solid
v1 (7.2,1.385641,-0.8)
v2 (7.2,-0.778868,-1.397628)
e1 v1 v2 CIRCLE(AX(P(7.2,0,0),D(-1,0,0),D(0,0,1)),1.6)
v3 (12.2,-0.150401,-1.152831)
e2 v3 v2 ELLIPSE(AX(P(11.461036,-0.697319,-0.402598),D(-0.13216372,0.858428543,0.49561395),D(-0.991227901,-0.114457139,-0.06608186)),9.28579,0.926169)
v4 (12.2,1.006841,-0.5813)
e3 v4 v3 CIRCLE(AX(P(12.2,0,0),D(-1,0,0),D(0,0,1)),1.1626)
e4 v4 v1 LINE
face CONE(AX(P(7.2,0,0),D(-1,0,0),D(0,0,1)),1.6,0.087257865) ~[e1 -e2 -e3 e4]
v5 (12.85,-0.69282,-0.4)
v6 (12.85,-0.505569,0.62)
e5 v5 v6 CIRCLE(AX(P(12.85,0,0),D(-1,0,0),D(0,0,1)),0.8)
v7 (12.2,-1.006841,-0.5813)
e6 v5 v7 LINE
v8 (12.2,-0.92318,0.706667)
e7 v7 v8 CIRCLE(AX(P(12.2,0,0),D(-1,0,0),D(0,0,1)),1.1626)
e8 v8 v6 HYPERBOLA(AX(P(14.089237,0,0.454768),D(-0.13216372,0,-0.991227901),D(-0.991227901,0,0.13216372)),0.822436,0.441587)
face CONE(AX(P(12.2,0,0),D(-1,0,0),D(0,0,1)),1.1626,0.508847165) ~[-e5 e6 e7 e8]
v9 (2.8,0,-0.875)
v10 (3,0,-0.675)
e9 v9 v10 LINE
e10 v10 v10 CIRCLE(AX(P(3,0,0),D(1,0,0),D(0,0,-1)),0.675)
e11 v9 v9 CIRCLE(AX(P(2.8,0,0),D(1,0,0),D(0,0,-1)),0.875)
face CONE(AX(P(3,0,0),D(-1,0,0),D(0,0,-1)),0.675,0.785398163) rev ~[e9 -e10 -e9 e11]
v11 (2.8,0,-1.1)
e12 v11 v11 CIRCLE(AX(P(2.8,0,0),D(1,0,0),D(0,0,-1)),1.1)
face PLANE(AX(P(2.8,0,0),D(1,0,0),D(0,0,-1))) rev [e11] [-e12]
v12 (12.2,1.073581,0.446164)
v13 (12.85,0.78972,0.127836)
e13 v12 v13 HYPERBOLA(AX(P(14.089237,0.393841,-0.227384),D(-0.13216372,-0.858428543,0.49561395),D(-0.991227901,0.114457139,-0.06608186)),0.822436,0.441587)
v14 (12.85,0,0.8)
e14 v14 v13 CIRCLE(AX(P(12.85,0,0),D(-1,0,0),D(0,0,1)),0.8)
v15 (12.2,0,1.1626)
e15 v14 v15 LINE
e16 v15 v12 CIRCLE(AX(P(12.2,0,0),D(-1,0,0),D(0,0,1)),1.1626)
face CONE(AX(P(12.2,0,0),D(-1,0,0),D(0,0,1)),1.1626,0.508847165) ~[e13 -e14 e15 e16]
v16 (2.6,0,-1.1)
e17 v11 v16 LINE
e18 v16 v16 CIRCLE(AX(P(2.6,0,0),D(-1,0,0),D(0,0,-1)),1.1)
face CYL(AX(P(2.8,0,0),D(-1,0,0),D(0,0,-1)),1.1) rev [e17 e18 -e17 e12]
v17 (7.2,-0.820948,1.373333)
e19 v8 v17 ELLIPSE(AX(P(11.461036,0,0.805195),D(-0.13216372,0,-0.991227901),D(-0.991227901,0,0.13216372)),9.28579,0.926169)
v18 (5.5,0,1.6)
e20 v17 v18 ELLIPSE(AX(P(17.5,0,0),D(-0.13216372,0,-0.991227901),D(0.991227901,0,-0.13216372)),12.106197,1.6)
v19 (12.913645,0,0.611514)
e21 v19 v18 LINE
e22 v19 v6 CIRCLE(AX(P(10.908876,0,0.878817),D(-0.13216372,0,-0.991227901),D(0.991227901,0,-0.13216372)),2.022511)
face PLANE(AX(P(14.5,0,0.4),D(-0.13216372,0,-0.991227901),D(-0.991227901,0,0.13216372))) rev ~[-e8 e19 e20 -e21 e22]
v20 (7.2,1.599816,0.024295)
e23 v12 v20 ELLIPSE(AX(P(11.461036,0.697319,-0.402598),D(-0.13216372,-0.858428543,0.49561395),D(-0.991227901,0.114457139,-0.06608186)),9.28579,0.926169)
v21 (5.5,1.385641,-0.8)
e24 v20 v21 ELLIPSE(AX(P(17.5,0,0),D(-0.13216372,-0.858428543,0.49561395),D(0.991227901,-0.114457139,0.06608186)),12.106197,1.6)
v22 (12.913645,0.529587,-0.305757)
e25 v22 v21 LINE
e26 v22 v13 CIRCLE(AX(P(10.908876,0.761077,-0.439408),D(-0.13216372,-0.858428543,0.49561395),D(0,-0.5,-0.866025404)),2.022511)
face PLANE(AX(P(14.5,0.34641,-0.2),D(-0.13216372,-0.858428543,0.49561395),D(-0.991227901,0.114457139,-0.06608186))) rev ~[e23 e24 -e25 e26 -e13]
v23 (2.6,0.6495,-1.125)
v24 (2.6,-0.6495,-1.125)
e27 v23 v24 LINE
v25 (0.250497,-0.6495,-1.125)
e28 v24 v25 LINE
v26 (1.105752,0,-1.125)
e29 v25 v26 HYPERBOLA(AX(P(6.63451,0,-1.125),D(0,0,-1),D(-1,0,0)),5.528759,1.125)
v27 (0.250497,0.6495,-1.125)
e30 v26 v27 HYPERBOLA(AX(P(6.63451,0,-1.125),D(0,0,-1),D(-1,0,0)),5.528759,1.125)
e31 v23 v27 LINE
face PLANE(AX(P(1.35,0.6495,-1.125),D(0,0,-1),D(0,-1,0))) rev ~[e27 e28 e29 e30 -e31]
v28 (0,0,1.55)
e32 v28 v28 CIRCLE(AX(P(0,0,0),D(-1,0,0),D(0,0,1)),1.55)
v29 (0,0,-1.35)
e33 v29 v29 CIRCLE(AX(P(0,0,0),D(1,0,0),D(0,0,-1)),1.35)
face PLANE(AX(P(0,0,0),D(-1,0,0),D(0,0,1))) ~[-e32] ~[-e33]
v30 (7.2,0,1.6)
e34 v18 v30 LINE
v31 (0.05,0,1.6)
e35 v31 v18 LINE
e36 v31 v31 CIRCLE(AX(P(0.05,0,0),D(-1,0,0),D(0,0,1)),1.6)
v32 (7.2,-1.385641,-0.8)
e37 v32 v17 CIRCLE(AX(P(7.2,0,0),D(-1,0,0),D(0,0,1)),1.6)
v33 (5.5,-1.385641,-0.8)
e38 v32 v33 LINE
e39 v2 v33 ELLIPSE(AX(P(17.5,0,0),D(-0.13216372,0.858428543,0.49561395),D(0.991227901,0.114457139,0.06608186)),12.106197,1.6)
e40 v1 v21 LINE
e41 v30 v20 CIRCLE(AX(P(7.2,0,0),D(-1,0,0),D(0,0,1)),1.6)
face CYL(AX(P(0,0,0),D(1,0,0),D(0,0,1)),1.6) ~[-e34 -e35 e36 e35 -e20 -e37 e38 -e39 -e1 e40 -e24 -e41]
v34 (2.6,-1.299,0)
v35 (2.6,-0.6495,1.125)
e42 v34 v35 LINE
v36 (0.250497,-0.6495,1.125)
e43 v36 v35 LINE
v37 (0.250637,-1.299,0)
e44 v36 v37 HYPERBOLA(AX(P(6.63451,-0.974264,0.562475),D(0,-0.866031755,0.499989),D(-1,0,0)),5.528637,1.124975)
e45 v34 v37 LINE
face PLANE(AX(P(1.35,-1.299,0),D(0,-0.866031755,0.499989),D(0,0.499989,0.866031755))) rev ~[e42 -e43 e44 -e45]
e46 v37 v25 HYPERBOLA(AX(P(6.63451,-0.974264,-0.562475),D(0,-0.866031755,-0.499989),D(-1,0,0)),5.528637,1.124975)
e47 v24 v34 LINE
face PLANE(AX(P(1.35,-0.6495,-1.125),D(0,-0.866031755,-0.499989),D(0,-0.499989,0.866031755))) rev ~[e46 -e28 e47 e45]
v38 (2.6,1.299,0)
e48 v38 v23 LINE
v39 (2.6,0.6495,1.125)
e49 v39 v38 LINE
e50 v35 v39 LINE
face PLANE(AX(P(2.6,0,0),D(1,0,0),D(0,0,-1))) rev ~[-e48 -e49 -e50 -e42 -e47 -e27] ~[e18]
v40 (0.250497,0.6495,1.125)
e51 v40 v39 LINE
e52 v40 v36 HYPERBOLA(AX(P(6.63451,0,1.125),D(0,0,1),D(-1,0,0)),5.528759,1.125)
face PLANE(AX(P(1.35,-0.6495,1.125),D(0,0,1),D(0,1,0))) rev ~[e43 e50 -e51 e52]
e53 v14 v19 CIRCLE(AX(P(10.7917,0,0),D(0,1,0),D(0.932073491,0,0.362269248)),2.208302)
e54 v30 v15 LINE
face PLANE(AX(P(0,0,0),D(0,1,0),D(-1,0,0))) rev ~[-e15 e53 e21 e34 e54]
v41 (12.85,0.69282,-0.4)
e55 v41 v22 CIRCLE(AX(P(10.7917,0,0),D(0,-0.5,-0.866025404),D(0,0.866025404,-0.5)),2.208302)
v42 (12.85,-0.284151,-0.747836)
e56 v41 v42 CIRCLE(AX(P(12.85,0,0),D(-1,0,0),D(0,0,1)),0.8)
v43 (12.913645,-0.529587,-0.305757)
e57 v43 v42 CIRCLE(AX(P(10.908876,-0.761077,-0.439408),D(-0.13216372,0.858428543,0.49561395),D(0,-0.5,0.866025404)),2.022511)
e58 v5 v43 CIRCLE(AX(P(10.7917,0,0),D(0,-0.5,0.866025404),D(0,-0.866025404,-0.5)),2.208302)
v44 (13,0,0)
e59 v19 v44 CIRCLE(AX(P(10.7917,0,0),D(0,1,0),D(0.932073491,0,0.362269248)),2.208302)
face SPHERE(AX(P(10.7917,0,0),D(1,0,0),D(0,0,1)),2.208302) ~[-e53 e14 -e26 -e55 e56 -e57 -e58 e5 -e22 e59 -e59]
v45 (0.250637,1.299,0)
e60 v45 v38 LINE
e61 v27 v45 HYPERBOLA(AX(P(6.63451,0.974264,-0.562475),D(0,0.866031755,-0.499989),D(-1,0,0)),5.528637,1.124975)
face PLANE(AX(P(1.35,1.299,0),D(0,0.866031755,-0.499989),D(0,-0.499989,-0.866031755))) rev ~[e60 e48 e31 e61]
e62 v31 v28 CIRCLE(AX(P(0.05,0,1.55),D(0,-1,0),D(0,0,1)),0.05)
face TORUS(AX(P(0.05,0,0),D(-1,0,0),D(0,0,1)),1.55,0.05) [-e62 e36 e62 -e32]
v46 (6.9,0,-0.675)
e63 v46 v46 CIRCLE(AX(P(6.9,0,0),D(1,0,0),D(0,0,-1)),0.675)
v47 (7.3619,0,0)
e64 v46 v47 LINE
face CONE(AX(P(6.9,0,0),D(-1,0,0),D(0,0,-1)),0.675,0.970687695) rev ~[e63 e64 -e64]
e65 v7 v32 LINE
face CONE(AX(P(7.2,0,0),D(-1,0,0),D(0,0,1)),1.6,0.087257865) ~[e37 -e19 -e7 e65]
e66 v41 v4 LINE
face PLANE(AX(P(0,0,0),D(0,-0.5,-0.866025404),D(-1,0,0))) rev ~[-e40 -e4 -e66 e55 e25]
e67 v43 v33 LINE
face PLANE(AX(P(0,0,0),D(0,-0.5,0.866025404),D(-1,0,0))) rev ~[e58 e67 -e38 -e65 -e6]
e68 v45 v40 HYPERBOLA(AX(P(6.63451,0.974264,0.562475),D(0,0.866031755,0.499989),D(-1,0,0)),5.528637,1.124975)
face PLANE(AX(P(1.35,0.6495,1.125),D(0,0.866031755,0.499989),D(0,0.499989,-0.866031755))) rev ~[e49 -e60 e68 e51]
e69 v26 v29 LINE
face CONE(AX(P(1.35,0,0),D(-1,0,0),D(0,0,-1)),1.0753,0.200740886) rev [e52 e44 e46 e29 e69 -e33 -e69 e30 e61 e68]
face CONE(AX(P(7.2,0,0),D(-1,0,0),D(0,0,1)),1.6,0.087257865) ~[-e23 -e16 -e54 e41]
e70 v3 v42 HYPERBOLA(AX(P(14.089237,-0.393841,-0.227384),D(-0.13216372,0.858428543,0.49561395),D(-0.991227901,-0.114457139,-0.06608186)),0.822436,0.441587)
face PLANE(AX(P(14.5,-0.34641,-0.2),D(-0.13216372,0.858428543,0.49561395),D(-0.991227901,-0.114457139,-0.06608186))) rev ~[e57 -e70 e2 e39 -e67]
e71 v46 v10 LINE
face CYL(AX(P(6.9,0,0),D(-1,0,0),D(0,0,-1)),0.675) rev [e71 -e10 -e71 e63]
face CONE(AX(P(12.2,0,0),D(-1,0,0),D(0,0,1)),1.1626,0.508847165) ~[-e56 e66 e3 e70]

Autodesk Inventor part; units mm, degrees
ref_plane "YZ Plane" through (0, 0, 0) normal (1, 0, 0) x (0, 1, 0)
ref_plane "XZ Plane" through (0, 0, 0) normal (0, 1, 0) x (-1, 0, 0)
ref_plane "XY Plane" through (0, 0, 0) normal (0, 0, 1) x (1, 0, 0)
sketch "Sketch1" plane through (0, 0, 0) normal (0, 1, 0) x (-1, 0, 0)
  line L0 (0, 0) -> (0, 1.6)
  line L1 (0, 1.6) -> (-7.2, 1.6)
  line L2 (-7.2, 1.6) -> (-12.2, 1.1626)
  line L3 (-12.7, 0.8837) -> (-12.7, 0)
  line L4 (-12.7, 0) -> (0, 0)
  line L5 (-12.7, 0) -> (-13, 0)
  line L6 (-12.2, 0) -> (-12.2, 1.1626)
  line L7 (-12.2, 1.1626) -> (-12.85, 0.8)
  line L8 (-12.2, -1.1626) -> (-12.85, -0.8)
  arc A0 (-12.85, 0.8) -> (-12.85, -0.8) centre (-10.7917, 0) ccw
  dimension "d0" = 1.6
  dimension "d1" = 7.2
  dimension "d3" = 12.7
  dimension "d4" = 0.3
  dimension "d352" = 0.8
  dimension "d353" = 0.8
  dimension "d355" = 0.65
  dimension "d359" = 5
  dimension "d373" = 60.848
revolve "Revolution1" add sketch "Sketch1" angle 360 about axis through (12.7, 0, 0) along (-1, 0, 0)
sketch "Sketch2" plane through (0, 0, 0) normal (0, 1, 0) x (-1, 0, 0)
  line L0 (0, -1.35) -> (0, 0)
  line L1 (0, 0) -> (-6.9, 0)
  line L2 (-6.9, 0) -> (-6.9, -0.675)
  line L3 (-6.9, -0.675) -> (-2.8, -0.675)
  line L4 (-2.8, -0.675) -> (-2.8, -1.1)
  line L5 (-2.8, -1.1) -> (-1.35, -1.1)
  line L6 (-1.35, -1.1) -> (-1.35, -1.0753)
  line L7 (-1.35, -1.0753) -> (0, -1.35)
  line L8 (-6.9, -0.675) -> (-7.3619, 0)
  line L9 (-7.3619, 0) -> (-6.9, 0) construction
  line L10 (-7.3619, 0) -> (-6.9, 0)
  line L11 (0, 0) -> (0, -1.425)
  line L12 (0, -1.6) -> (0, 1.6) projected
  line L13 (0, -1.425) -> (0.3686, -1.425)
  dimension "d9" = 1.1
  dimension "d11" = 1.35
  dimension "d12" = 11.5
  dimension "d145" = 0.4619
  dimension "d284" = 1.45
  dimension "d293" = 1.35
  dimension "d361" = 1.425
  dimension "d363" = 0.3686
  dimension "d367" = 6.9
  dimension "d374" = 0.675
revolve "Revolution2" cut sketch "Sketch2" angle 360 about axis through (0, 0, 0) along (1, 0, 0)
sketch "Sketch3" plane through (1.35, 0, 0) normal (1, 0, 0) x (0, 0, -1)
  line L0 (0, 1.299) -> (1.125, 0.6495)
  line L1 (1.125, 0.6495) -> (1.125, -0.6495)
  line L2 (1.125, -0.6495) -> (0, -1.299)
  line L3 (0, -1.299) -> (-1.125, -0.6495)
  line L4 (-1.125, -0.6495) -> (-1.125, 0.6495)
  line L5 (-1.125, 0.6495) -> (0, 1.299)
  point P0 (0, 0)
  point P1 (0, 0)
  dimension "d20" = 0
  dimension "d21" = 2.25
extrude "Extrusion1" cut sketch "Sketch3" along normal blind 1.25 and the other way blind 2
fillet "Fillet1" radius 0.05 1 edges at (0, 0, -1.6)
sketch "Sketch10" plane through (0, 0, 0) normal (0, 1, 0) x (-1, 0, 0)
  circle A0 centre (-1.8, 1.5) radius 0.1
  line L0 (-0.5216, -1.4433) -> (-0.46, -1.55)
  line L1 (-0.46, -1.55) -> (-0.6332, -1.55)
  line L2 (-0.6332, -1.55) -> (-0.5716, -1.4433)
  line L3 (-0.5216, -1.4433) -> (-0.5716, -1.4433)
  line L4 (0, 1.55) -> (0, -1.55) projected
  point P0 (0, 0)
  point P1 (-0.5466, -1.5)
  point P2 (-0.5466, -1.4)
  dimension "d69" = 0.2
  dimension "d70" = 1.5
  dimension "d71" = 1.8
  dimension "d232" = 0.15
  dimension "d233" = 0.05
  dimension "d234" = 0.05
  dimension "d235" = 0.46
  dimension "d236" = 1.55
  dimension "d237" = 1.55
sketch "Sketch24" plane through (0, 0, 0) normal (0, 1, 0) x (-1, 0, 0)
  line L0 (-2.0692, 1.4443) -> (-2.5292, 1.4)
  line L1 (-2.5292, 1.4) -> (-3.1116, 2.2165)
  line L2 (-3.1116, 2.2165) -> (-2, 2.3235)
  line L3 (-2, 2.3235) -> (-2.0692, 1.4443)
  line L4 (-2.6, -1.125) -> (-0.2505, -1.125) projected
  line L5 (0, 1.35) -> (0, -1.35) projected
  point P0 (0, 0)
  point P1 (-0.3734, 1.125)
  point P2 (-2.65, 1.125)
  point P3 (-0.2505, -1.125)
  dimension "d167" = 60
  dimension "d170" = 2
  dimension "d171" = 100
  dimension "d357" = 0.8685
  dimension "d358" = 0.46
  dimension "d370" = 1.4
  dimension "d371" = 84.5
coil "Coil12" [suppressed]
coil "Coil16" [suppressed]
sketch "Sketch41" plane through (2.0889, 1.4266, -0.4635) normal (0, -0.309, -0.9511) x (1, 0, 0)
  line L0 (0.1155, 0) -> (0.0827, 0.0567) projected
  line L1 (0.0827, 0.0567) -> (0.0327, 0.0567) projected
  line L2 (-0.4173, 0.0567) -> (-0.4673, 0.0567) projected
  line L3 (-0.9173, 0.0567) -> (-0.9673, 0.0567) projected
  line L4 (-1.4173, 0.0567) -> (-1.4673, 0.0567) projected
  line L5 (-1.2173, 2.9433) -> (-1.1673, 2.9433) projected
  line L6 (-0.7173, 2.9433) -> (-0.6673, 2.9433) projected
  line L7 (-0.2173, 2.9433) -> (-0.1673, 2.9433) projected
  arc A0 (-2.0889, 0.05) -> (-2.0389, 0) centre (-2.0389, 0.05) ccw projected
  line L8 (-2.0889, 0.05) -> (-2.0889, 0.15) projected
  line L9 (-2.0889, 0.15) -> (-1.1065, 0.3499) projected
  line L10 (4.8111, 0.7) -> (5.273, 1.5) projected
  line L11 (5.273, 1.5) -> (4.8111, 2.3) projected
  line L12 (-1.1065, 2.6501) -> (-2.0889, 2.85) projected
  line L13 (-2.0889, 2.85) -> (-2.0889, 2.95) projected
  arc A1 (-2.0389, 3) -> (-2.0889, 2.95) centre (-2.0389, 2.95) ccw projected
  line L14 (4.8111, 2.3) -> (0.7111, 2.3) projected
  line L15 (0.7111, 0.7) -> (4.8111, 0.7) projected
  line L16 (0.7111, 2.3) -> (0.7111, 2.6) projected
  line L17 (0.5111, 0.4) -> (0.7111, 0.4) projected
  line L18 (0.7111, 2.6) -> (0.5111, 2.6) projected
  line L19 (0.7111, 0.4) -> (0.7111, 0.7) projected
  line L20 (0, 0) -> (-0.3845, 0) projected
  line L21 (0.0327, 0.0567) -> (0, 0) projected
  line L22 (0.1155, 0) -> (0, 0) projected
  line L23 (0.5111, 0.3499) -> (0.5111, 0.4) projected
  line L24 (0.5111, 2.6) -> (0.5111, 2.6501) projected
  arc A2 (9.2611, 0.6) -> (9.2611, 2.4) centre (6.6361, 1.5) ccw projected
  line L25 (0.5111, 2.6501) -> (-1.1065, 2.6501) projected
  line L26 (4.9111, 0) -> (0.1155, 0) projected
  line L27 (-1.1065, 0.3499) -> (0.5111, 0.3499) projected
  line L28 (9.2611, 0.6) -> (8.6111, 0.3237) projected
  line L29 (8.6111, 0.3237) -> (4.9111, 0) projected
  line L30 (-0.5, 0) -> (-0.8845, 0) projected
  line L31 (-1, 0) -> (-1.3845, 0) projected
  line L32 (-1.5, 0) -> (-2.0389, 0) projected
  line L33 (-2.0389, 3) -> (-1.25, 3) projected
  line L34 (-1.1345, 3) -> (-0.75, 3) projected
  line L35 (-0.6345, 3) -> (-0.25, 3) projected
  line L36 (-0.1345, 3) -> (4.9111, 3) projected
  line L37 (4.9111, 3) -> (8.6111, 2.6763) projected
  line L38 (8.6111, 2.6763) -> (9.2611, 2.4) projected
  point P0 (-2.0889, 1.5)
  point P1 (0.04, 2.55)
  point P2 (0.04, 0.95)
  point P3 (2.4363, -2.336)
  point P4 (2.2646, -2.336)
  point P5 (1.6424, -2.336)
  point P6 (1.4156, -2.336)
  point P7 (0.8485, -2.336)
  point P8 (0.5666, -2.336)
  point P9 (0.14, 0.3317)
  point P10 (0.14, 2.6683)
  point P11 (-0.69, 0)
  point P12 (-0.5168, 0)
  point P13 (-1.15, 0)
  point P14 (0.0554, 3.4951)
  point P15 (0.4369, 3.5)
  point P16 (5.5075, 3.4591)
  point P17 (9.4087, 0.8232)
  point P18 (9.1185, 0.3568)
  point P19 (9.1075, 0.3559)
  point P20 (8.3185, 0.2868)
  point P21 (8.3075, 0.2859)
  point P22 (7.5185, 0.2168)
  point P23 (7.5075, 0.2159)
  point P24 (6.7185, 0.1469)
  point P25 (6.7075, 0.1459)
  point P26 (5.9185, 0.0769)
  point P27 (5.9075, 0.0759)
  point P28 (5.1185, 0.0069)
  point P29 (5.1075, 0.0059)
  point P30 (0, 0.0001)
  point P31 (10.24, 3.1065)
  point P32 (9.9229, 0.3686)
  point P33 (9.8272, 0.361)
  point P34 (9.1222, 0.3055)
  point P35 (9.0317, 0.2984)
  point P36 (8.3215, 0.2425)
  point P37 (8.2362, 0.2358)
  point P38 (7.5207, 0.1795)
  point P39 (7.4407, 0.1732)
  point P40 (6.72, 0.1165)
  point P41 (6.6452, 0.1106)
  point P42 (5.9192, 0.0535)
  point P43 (5.8497, 0.048)
  point P44 (5.1195, 0)
  point P45 (5.0443, 0)
  point P46 (4.2066, 0)
  point P47 (3.5312, 0)
  point P48 (3.3689, 0)
  point P49 (2.7371, 0)
  point P50 (2.5311, 0)
  point P51 (1.943, 0)
  point P52 (1.6934, 0)
  point P53 (1.1489, 0)
  point P54 (0.8557, 0)
  point P55 (10.3292, 3.0438)
  point P56 (10.225, 3.1077)
  point P57 (9.5226, 3.163)
  point P58 (9.4295, 3.1703)
  point P59 (8.7218, 3.226)
  point P60 (8.634, 3.2329)
  point P61 (7.9211, 3.289)
  point P62 (7.8385, 3.2955)
  point P63 (7.1203, 3.352)
  point P64 (7.043, 3.3581)
  point P65 (6.3196, 3.415)
  point P66 (6.2475, 3.4207)
  point P67 (5.5189, 3.4781)
  point P68 (5.4519, 3.4833)
  point P69 (4.7224, 3.5)
  point P70 (4.6255, 3.5)
  point P71 (3.9283, 3.5)
  point P72 (3.7877, 3.5)
  point P73 (3.1342, 3.5)
  point P74 (2.95, 3.5)
  point P75 (2.3401, 3.5)
  point P76 (2.1123, 3.5)
  point P77 (1.5459, 3.5)
  point P78 (1.2745, 3.5)
  point P79 (0.7518, 3.5)
  point P80 (0.4368, 3.5)
  point P81 (0.0559, 3.4961)
  point P82 (-0.0003, 0)
  point P83 (1.2685, 3)
  point P84 (0.6925, 3)
  point P85 (2.1062, 3)
  point P86 (2.9439, 3)
  point P87 (1.4866, 3)
  point P88 (3.7817, 3)
  point P89 (2.2807, 3)
  point P90 (3.0748, 3)
  point P91 (4.6194, 3)
  point P92 (3.8689, 3)
  point P93 (4.6631, 3)
  point P94 (9.3294, 0.7244)
  point P95 (8.9446, 0.4186)
  point P96 (5.4339, 2.9655)
  point P97 (5.461, 2.9636)
  point P98 (6.2339, 2.9095)
  point P99 (6.261, 2.9076)
  point P100 (7.0339, 2.8536)
  point P101 (7.061, 2.8517)
  point P102 (7.8339, 2.7976)
  point P103 (7.861, 2.7957)
  point P104 (8.6339, 2.7417)
  point P105 (8.261, 0.2322)
  point P106 (7.461, 0.1763)
  point P107 (8.2339, 0.2303)
  point P108 (6.661, 0.1203)
  point P109 (7.4339, 0.1744)
  point P110 (5.861, 0.0644)
  point P111 (6.6339, 0.1184)
  point P112 (5.061, 0.0085)
  point P113 (5.8339, 0.0625)
  point P114 (9.0823, 0.491)
  point P115 (-0.7468, 0)
  point P116 (5.0339, 0.0066)
  point P117 (-1.2068, 0)
  point P118 (0.1351, 3)
  point P119 (0.9307, 3)
  point P120 (0.6796, 3)
  point P121 (1.5195, 3)
  point P122 (1.7263, 3)
  point P123 (2.3594, 3)
  point P124 (2.5219, 3)
  point P125 (3.1993, 3)
  point P126 (3.3175, 3)
  point P127 (4.0392, 3)
  point P128 (4.113, 3)
  point P129 (5.6716, 2.9335)
  point P130 (5.7097, 2.9301)
  point P131 (6.4622, 2.8643)
  point P132 (6.5109, 2.86)
  point P133 (7.2527, 2.7951)
  point P134 (7.312, 2.79)
  point P135 (8.0433, 2.726)
  point P136 (8.1131, 2.7199)
  point P137 (8.7927, 2.5991)
  point P138 (8.9225, 2.5439)
  point P139 (9.115, 0.5379)
  point P140 (8.5136, 0.3152)
  point P141 (8.4386, 0.3086)
  point P142 (7.7125, 0.2451)
  point P143 (7.648, 0.2394)
  point P144 (6.9114, 0.175)
  point P145 (6.8574, 0.1703)
  point P146 (6.1103, 0.1049)
  point P147 (6.0669, 0.1011)
  point P148 (5.3092, 0.0348)
  point P149 (5.2763, 0.0319)
  point P150 (4.9086, 3)
  point P151 (4.8791, 3)
extrude "Extrusion19" [suppressed]
sketch "Sketch45" plane through (0, 0, 0) normal (0, 1, 0) x (-1, 0, 0)
  point P0 (0, 0)
sketch "Sketch47" plane through (0, 0, 0) normal (0, 0, 1) x (1, 0, 0)
  line L0 (0, -1.35) -> (0.2505, -1.299) projected
  line L1 (6.9, -0.675) -> (7.3619, 0) projected
  line L2 (7.3619, 0) -> (6.9, 0.675) projected
  line L3 (0.2505, 1.299) -> (0, 1.35) projected
  line L4 (6.9, 0.675) -> (2.8, 0.675) projected
  line L5 (2.8, -0.675) -> (6.9, -0.675) projected
  arc A0 (0, -1.55) -> (0.05, -1.6) centre (0.05, -1.55) ccw projected
  line L6 (0, -1.55) -> (0, -1.35) projected
  line L7 (0, 1.35) -> (0, 1.55) projected
  arc A1 (0.05, 1.6) -> (0, 1.55) centre (0.05, 1.55) ccw projected
  line L8 (0.2505, -1.299) -> (2.6, -1.299) projected
  line L9 (2.6, -1.299) -> (2.6, -1.1) projected
  line L10 (2.6, 1.1) -> (2.6, 1.299) projected
  line L11 (2.6, 1.299) -> (0.2505, 1.299) projected
  line L12 (2.6, -1.1) -> (2.8, -1.1) projected
  line L13 (2.8, -1.1) -> (2.8, -0.675) projected
  line L14 (2.8, 0.675) -> (2.8, 1.1) projected
  line L15 (2.8, 1.1) -> (2.6, 1.1) projected
  line L16 (12.2, 1.1626) -> (12.85, 0.8) projected
  arc A2 (12.85, -0.8) -> (12.85, 0.8) centre (10.7917, 0) ccw projected
  line L17 (12.85, -0.8) -> (12.2, -1.1626) projected
  line L18 (12.2, -1.1626) -> (7.2, -1.6) projected
  line L19 (7.2, -1.6) -> (0.05, -1.6) projected
  line L20 (0.05, 1.6) -> (7.2, 1.6) projected
  line L21 (7.2, 1.6) -> (12.2, 1.1626) projected
  point P0 (0, 0)
  point P1 (7.012, 0)
sketch "Sketch9" plane through (0, 0, 0) normal (0, 1, 0) x (-1, 0, 0)
  line L0 (0, 1.35) -> (0, -1.35) projected
  line L1 (0, -1.6) -> (0, 1.6) projected
  line L2 (-14.5, 1.6) -> (-5.5, 1.6)
  line L3 (-7.2, 1.6) -> (0, 1.6) projected
  line L4 (-14.5, 1.6) -> (-14.5, 0.4)
  line L5 (-14.5, 0.4) -> (-5.5, 1.6)
  point P0 (0, 0)
  dimension "d257" = 1.2
  dimension "d258" = 5.5
  dimension "d262" = 9
extrude "Extrusion4" cut sketch "Sketch9" against normal blind 2
pattern_circular "Circular Pattern1" count 3 over 360 about axis through (-10, 0, 0) along (1, 0, 0) of "Extrusion4"
sketch "Sketch50" plane through (0, 0, 0) normal (0, 1, 0) x (-1, 0, 0)
  line L0 (-2.8, 0.675) -> (-6.9, 0.675) projected
  line L1 (-6.9, 0.675) -> (-7.3619, 0) projected
  line L2 (-6.9, -0.675) -> (-2.8, -0.675) projected
  arc A0 (-0.05, -1.6) -> (0, -1.55) centre (-0.05, -1.55) ccw projected
  arc A1 (0, 1.55) -> (-0.05, 1.6) centre (-0.05, 1.55) ccw projected
  line L3 (-0.05, -1.6) -> (-7.2, -1.6) projected
  line L4 (-1.1059, -1.125) -> (0, -1.35) projected
  line L5 (0, -1.35) -> (0, -1.55) projected
  line L6 (0, 1.55) -> (0, 1.35) projected
  line L7 (0, 1.35) -> (-1.1059, 1.125) projected
  line L8 (-2.6, -1.125) -> (-1.1059, -1.125) projected
  line L9 (-1.1059, 1.125) -> (-2.6, 1.125) projected
  line L10 (-2.6, 1.125) -> (-2.6, 1.1) projected
  line L11 (-2.6, -1.1) -> (-2.6, -1.125) projected
  line L12 (-2.8, -0.675) -> (-2.8, -1.1) projected
  line L13 (-2.8, -1.1) -> (-2.6, -1.1) projected
  line L14 (-2.6, 1.1) -> (-2.8, 1.1) projected
  line L15 (-2.8, 1.1) -> (-2.8, 0.675) projected
  line L16 (-7.3619, 0) -> (-6.9, -0.675) projected
  line L17 (-5.5, 1.6) -> (-0.05, 1.6) projected
  line L18 (-12.9136, 0.6115) -> (-5.5, 1.6) projected
  line L19 (-7.2, -1.6) -> (-12.2, -1.1626) projected
  line L20 (-12.85, 0.8) -> (-12.2, 1.1626) projected
  line L21 (-12.2, 1.1626) -> (-7.2, 1.6) projected
  line L22 (-7.2, 1.6) -> (-5.5, 1.6) projected
  line L23 (-12.2, -1.1626) -> (-12.85, -0.8) projected
  arc A2 (-12.9136, 0.6115) -> (-12.85, -0.8) centre (-10.7917, 0) ccw projected
  arc A3 (-12.85, 0.8) -> (-12.9136, 0.6115) centre (-10.7917, 0) ccw projected
  point P0 (0, 0)
  point P1 (-1.4382, 1.75)
  point P2 (-1.495, 1.75)
  point P3 (-1.6682, 1.75)
  point P4 (-6.2041, 1.75)
  point P5 (-11.5804, 0.9405)
  point P6 (-2.2986, 1.75)
  point P7 (-5.8766, -1.75)
  point P8 (-6.6717, -1.75)
  point P9 (-7.4687, -1.7289)
  point P10 (-10.5666, -1.2193)
  point P11 (-10.7, -0.8888)
  point P12 (-3.5, -1.3923)
  point P13 (-4.3, -1.3364)
  point P14 (-5.1, -1.2804)
  point P15 (-5.9, -1.2245)
  point P16 (-6.7, -1.1685)
  point P17 (-7.5, -1.1126)
  point P18 (-2.3, 1.4762)
  point P19 (-3.1, 1.4203)
  point P20 (-3.9, 1.3643)
  point P21 (-4.7, 1.3084)
  point P22 (-5.5, 1.2524)
  point P23 (-6.3, 1.1965)
  point P24 (-7.1, 1.1406)
  point P25 (-7.9, 1.0846)
  point P26 (-8.7, 1.0287)
  point P27 (-6.2532, 1.5)
  point P28 (-3.5, -1.3923)
  point P29 (-7.4513, -1.4231)
  point P30 (-8.2513, -1.3601)
  point P31 (-9.0513, -1.2971)
  point P32 (-8.3929, 1.3781)
sketch "Sketch51" plane through (0, 0, 0) normal (0, 0, 1) x (1, 0, 0)
  line L0 (0, -1.35) -> (0.2505, -1.299) projected
  line L1 (6.9, -0.675) -> (7.3619, 0) projected
  line L2 (7.3619, 0) -> (6.9, 0.675) projected
  line L3 (0.2505, 1.299) -> (0, 1.35) projected
  line L4 (0.05, 1.6) -> (7.1077, 1.6) projected
  line L5 (0, 1.35) -> (0, 1.55) projected
  arc A0 (0.05, 1.6) -> (0, 1.55) centre (0.05, 1.55) ccw projected
  arc A1 (0, -1.55) -> (0.05, -1.6) centre (0.05, -1.55) ccw projected
  line L6 (0, -1.55) -> (0, -1.35) projected
  line L7 (7.2, -1.6) -> (0.05, -1.6) projected
  line L8 (2.6, 1.299) -> (0.2505, 1.299) projected
  line L9 (0.2505, -1.299) -> (2.6, -1.299) projected
  line L10 (2.6, -1.299) -> (2.6, -1.1) projected
  line L11 (2.6, 1.1) -> (2.6, 1.299) projected
  line L12 (6.9, 0.675) -> (2.8, 0.675) projected
  line L13 (2.8, 0.675) -> (2.8, 1.1) projected
  line L14 (2.8, 1.1) -> (2.6, 1.1) projected
  line L15 (2.6, -1.1) -> (2.8, -1.1) projected
  line L16 (2.8, -1.1) -> (2.8, -0.675) projected
  line L17 (2.8, -0.675) -> (6.9, -0.675) projected
  line L18 (12.85, -0.8) -> (12.2, -1.1626) projected
  line L19 (12.2, -1.1626) -> (7.2, -1.6) projected
  line L20 (7.1077, 1.6) -> (12.8824, 0.7109) projected
  arc A2 (12.85, -0.8) -> (12.8824, 0.7109) centre (10.7917, 0) ccw projected
  point P0 (0, 0)
  point P1 (7.012, 0)
  point P2 (0.7475, 1.75)
  point P3 (0.9775, 1.75)
  point P4 (1.2075, 1.75)
  point P5 (8.1591, 1.2076)
  point P6 (5.2803, 1.75)
  point P7 (6.0754, 1.75)
  point P8 (7.6761, 1.6296)
  point P9 (8.4815, 1.5119)
  point P10 (6.0591, 1.5)
  point P11 (10.1597, -0.9266)
  point P12 (9.6652, -1.2902)
  point P13 (8.8644, -1.3533)
  point P14 (7.2629, -1.4793)
  point P15 (9.3597, -0.9825)
  point P16 (3.3597, 1.4021)
  point P17 (4.1597, 1.3462)
  point P18 (6.5597, 1.1783)
  point P19 (7.3597, 1.1224)
  point P20 (8.1597, 1.0665)
  point P21 (9.7597, 0.9546)
  point P22 (10.5597, 0.8986)
  point P23 (10.9597, -0.8707)
  point P24 (8.5597, -1.0385)
  point P25 (7.7597, -1.0944)
  point P26 (6.9597, -1.1504)
  point P27 (5.3597, -1.2622)
  point P28 (4.5597, -1.3182)
  point P29 (3.7597, -1.3741)
  point P30 (2.9597, -1.4301)
  point P31 (3.3597, 1.4021)
  point P32 (9.6652, -1.2902)
  point P33 (10.5597, 0.8986)
  point P34 (8.9597, 0.8491)
  point P35 (10.5597, 0.7232)
  point P36 (6.5597, 1.038)
  point P37 (2.8826, 1.5)
  point P38 (3.6767, 1.5)
  point P39 (4.4708, 1.5)
  point P40 (5.2498, -1.5)
  point P41 (4.0738, -1.5)
  point P42 (3.2796, -1.5)
sketch "Sketch52" plane through (2.65, 0, 0) normal (-1, 0, 0) x (0, 0, 1)
  circle A0 centre (0, 0) radius 1.125
  dimension "d321" = 2.25
extrude "Extrusion21" [suppressed]
sketch "Sketch53" plane through (0, 0, 0) normal (0, 0, 1) x (1, 0, 0)
  line L0 (2.8, -0.75) -> (3.0165, -0.75)
  line L1 (2.8, -0.75) -> (2.8, -1.125)
  line L2 (2.8, -1.125) -> (3.0165, -0.75)
  line L3 (-2.6183, 0) -> (15.6376, 0) projected
  point P0 (0, 0)
  dimension "d325" = 1.125
  dimension "d326" = 0.75
  dimension "d327" = 60
  dimension "d328" = 2.8
revolve "Revolution7" [suppressed]
thread "Thread3" size "M1.6x0.35" class "6H" standard "ANSI Metric M Profile" length 3.1
sketch "Sketch54" plane through (0, 0, 0) normal (0, 1, 0) x (-1, 0, 0)
  line L0 (-13, 1.19) -> (-13, 0.25)
  line L1 (2.6183, 0) -> (-15.6376, 0) projected
  line L2 (0, 1.35) -> (0, -1.35) projected
  line L3 (-13, 0.25) -> (-12.6579, 1.19)
  line L4 (-12.6579, 1.19) -> (-13, 1.19)
  point P0 (0, 0)
  point P1 (-12.861, 0.9532)
  dimension "d341" = 13
  dimension "d342" = 0.94
  dimension "d343" = 20
  dimension "d344" = 0.25
revolve "Revolution8" [suppressed]
sketch "Sketch55" plane through (0.5216, 0, -1.4433) normal (0, 1, 0) x (1, 0, 0)
  line L0 (0.05, 0) -> (0.0827, 0.0567) projected
  line L1 (-0.0327, 0.0567) -> (0.0827, 0.0567) projected
  line L2 (-0.4716, 0.0567) -> (-0.0327, 0.0567) projected
  arc A0 (-0.4716, 0.0567) -> (-0.5216, 0.0067) centre (-0.4716, 0.0067) ccw projected
  line L3 (-0.5216, -0.0933) -> (-0.5216, 0.0067) projected
  line L4 (0.5843, -0.3183) -> (-0.5216, -0.0933) projected
  line L5 (6.3784, -0.6433) -> (2.2784, -0.6433) projected
  line L6 (6.8403, -1.4433) -> (6.3784, -0.6433) projected
  line L7 (6.3784, -2.2433) -> (6.8403, -1.4433) projected
  line L8 (2.2784, -2.2433) -> (6.3784, -2.2433) projected
  line L9 (-0.5216, -2.7933) -> (0.5843, -2.5683) projected
  line L10 (-0.5216, -2.8933) -> (-0.5216, -2.7933) projected
  arc A1 (-0.5216, -2.8933) -> (-0.4716, -2.9433) centre (-0.4716, -2.8933) ccw projected
  line L11 (0.5, 0) -> (0.55, 0) projected
  line L12 (1, 0) -> (1.05, 0) projected
  line L13 (1.5, 0) -> (1.55, 0) projected
  line L14 (1.3, -2.8866) -> (1.25, -2.8866) projected
  line L15 (0.8, -2.8866) -> (0.75, -2.8866) projected
  line L16 (0.3, -2.8866) -> (0.25, -2.8866) projected
  line L17 (0, 0) -> (0.05, 0) projected
  line L18 (-0.0327, 0.0567) -> (0, 0) projected
  line L19 (0.0827, 0.0567) -> (0.4673, 0.0567) projected
  line L20 (10.9407, -1.899) -> (3.9784, -2.9433) projected
  line L21 (0.5827, 0.0567) -> (0.9673, 0.0567) projected
  line L22 (1.0827, 0.0567) -> (1.4673, 0.0567) projected
  line L23 (1.5827, 0.0567) -> (6.4784, 0.0567) projected
  line L24 (0.2173, -2.9433) -> (-0.4716, -2.9433) projected
  line L25 (2.2784, -0.6433) -> (2.2784, -0.3433) projected
  line L26 (2.2784, -0.3433) -> (2.0784, -0.3433) projected
  line L27 (2.0784, -0.3433) -> (2.0784, -0.3183) projected
  line L28 (2.0784, -0.3183) -> (0.5843, -0.3183) projected
  line L29 (0.5843, -2.5683) -> (2.0784, -2.5683) projected
  line L30 (2.0784, -2.5683) -> (2.0784, -2.5433) projected
  line L31 (2.0784, -2.5433) -> (2.2784, -2.5433) projected
  line L32 (2.2784, -2.5433) -> (2.2784, -2.2433) projected
  line L33 (3.9784, -2.9433) -> (1.3327, -2.9433) projected
  line L34 (1.2173, -2.9433) -> (0.8327, -2.9433) projected
  line L35 (0.7173, -2.9433) -> (0.3327, -2.9433) projected
  line L36 (6.4784, 0.0567) -> (10.0076, -0.2521) projected
  line L37 (10.0076, -0.2521) -> (10.4686, -0.3904) projected
  line L38 (10.4686, -0.3904) -> (10.8284, -0.5433) projected
  arc A2 (10.9407, -1.899) -> (10.8284, -0.5433) centre (8.2034, -1.4433) ccw projected
  arc A3 (10.8284, -2.3433) -> (10.9407, -1.899) centre (8.2034, -1.4433) ccw projected
  line L39 (10.8284, -2.3433) -> (10.1784, -2.6196) projected
  line L40 (10.1784, -2.6196) -> (6.4784, -2.9433) projected
  line L41 (6.4784, -2.9433) -> (3.9784, -2.9433) projected
  point P0 (-0.5216, -1.4433)
  point P1 (0.2266, -3.3933)
  point P2 (0.4566, -3.3933)
  point P3 (0.6866, -3.3933)
  point P4 (0.9166, -3.3933)
  point P5 (1.1466, -3.3933)
  point P6 (1.3766, -3.3933)
  point P7 (5.6825, -3.3933)
  point P8 (0.3416, 0.1067)
  point P9 (0.5716, 0.1067)
  point P10 (11.0588, -2.5838)
  point P11 (1.6066, -3.3933)
  point P12 (6.4725, -3.3933)
  point P13 (5.7316, -2.8933)
  point P14 (8.1784, -2.422)
  point P15 (10.6381, -0.5366)
  point P16 (2.9784, -0.001)
  point P17 (9.3784, -0.6222)
  point P18 (7.7297, -0.0332)
  point P19 (8.5297, -0.0962)
  point P20 (7.8713, -2.7714)
  point P21 (6.2784, -2.8933)
extrude "Extrusion22" [suppressed]
sketch "Sketch56" plane through (2.0454, -0.6215, 0.2019) normal (0, -0.309, -0.9511) x (1, 0, 0)
  line L0 (-1.1738, 0.7898) -> (-1.1238, 0.7898) projected
  arc A0 (-1.9954, 0.8465) -> (-2.0454, 0.7965) centre (-1.9954, 0.7965) ccw projected
  line L1 (-2.0454, 0.6965) -> (-2.0454, 0.7965) projected
  line L2 (-1.063, 0.4967) -> (-2.0454, 0.6965) projected
  line L3 (4.8546, -1.4535) -> (5.3165, -0.6535) projected
  line L4 (5.3165, -0.6535) -> (4.8546, 0.1465) projected
  line L5 (-2.0454, -2.0035) -> (-1.063, -1.8036) projected
  line L6 (-2.0454, -2.1035) -> (-2.0454, -2.0035) projected
  arc A1 (-2.0454, -2.1035) -> (-1.9954, -2.1535) centre (-1.9954, -2.1035) ccw projected
  line L7 (-0.6738, 0.7898) -> (-0.6238, 0.7898) projected
  line L8 (-0.1738, 0.7898) -> (-0.1238, 0.7898) projected
  line L9 (-0.3738, -2.0968) -> (-0.4238, -2.0968) projected
  line L10 (-0.8738, -2.0968) -> (-0.9238, -2.0968) projected
  line L11 (-1.3738, -2.0968) -> (-1.4238, -2.0968) projected
  line L12 (0.159, -2.1535) -> (0.1262, -2.0968) projected
  line L13 (0.1262, -2.0968) -> (0.0762, -2.0968) projected
  line L14 (-0.091, 0.8465) -> (0.1785, 0.8465) projected
  line L15 (0.0435, -2.1535) -> (-0.341, -2.1535) projected
  line L16 (0.0762, -2.0968) -> (0.0435, -2.1535) projected
  line L17 (0.159, -2.1535) -> (0.0435, -2.1535) projected
  line L18 (0.5763, -2.1535) -> (0.159, -2.1535) projected
  line L19 (-1.4565, -2.1535) -> (-1.9954, -2.1535) projected
  line L20 (0.7546, -1.4535) -> (4.8546, -1.4535) projected
  line L21 (0.7546, 0.1465) -> (0.7546, 0.4465) projected
  line L22 (0.7546, 0.4465) -> (0.5546, 0.4465) projected
  line L23 (0.5546, 0.4465) -> (0.5546, 0.4967) projected
  line L24 (-1.9954, 0.8465) -> (-1.2065, 0.8465) projected
  line L25 (-1.091, 0.8465) -> (-0.7065, 0.8465) projected
  line L26 (-0.591, 0.8465) -> (-0.2065, 0.8465) projected
  line L27 (0.5546, -1.8036) -> (0.5546, -1.7535) projected
  line L28 (0.5546, -1.7535) -> (0.7546, -1.7535) projected
  line L29 (0.7546, -1.7535) -> (0.7546, -1.4535) projected
  line L30 (4.8546, 0.1465) -> (0.7546, 0.1465) projected
  line L31 (0.7231, 0.8465) -> (0.9741, 0.8465) projected
  line L32 (1.563, 0.8465) -> (1.7697, 0.8465) projected
  line L33 (2.4029, 0.8465) -> (2.5653, 0.8465) projected
  line L34 (3.2428, 0.8465) -> (3.3609, 0.8465) projected
  line L35 (4.0827, 0.8465) -> (4.1565, 0.8465) projected
  line L36 (2.1675, -2.1535) -> (1.983, -2.1535) projected
  line L37 (1.3719, -2.1535) -> (1.1431, -2.1535) projected
  line L38 (0.5546, 0.4967) -> (-1.063, 0.4967) projected
  line L39 (4.9226, 0.8465) -> (4.9521, 0.8465) projected
  line L40 (5.7151, 0.78) -> (5.7532, 0.7767) projected
  line L41 (6.5056, 0.7108) -> (6.5543, 0.7066) projected
  line L42 (7.2962, 0.6417) -> (7.3555, 0.6365) projected
  line L43 (8.0868, 0.5725) -> (8.1566, 0.5664) projected
  line L44 (8.8362, 0.4456) -> (8.966, 0.3905) projected
  arc A2 (9.4152, -1.1196) -> (9.3418, 0.1298) centre (6.6796, -0.6535) ccw projected
  line L45 (9.4152, -1.1196) -> (5.6437, -1.6979) projected
  line L46 (5.3826, -1.738) -> (5.0794, -1.7845) projected
  line L47 (4.5773, -1.8615) -> (4.3223, -1.9006) projected
  line L48 (3.772, -1.985) -> (3.5652, -2.0167) projected
  line L49 (2.9667, -2.1084) -> (2.8081, -2.1328) projected
  line L50 (-0.4565, -2.1535) -> (-0.841, -2.1535) projected
  line L51 (-0.9565, -2.1535) -> (-1.341, -2.1535) projected
  line L52 (-1.063, -1.8036) -> (0.5546, -1.8036) projected
  point P0 (-2.0454, -0.6535)
  point P1 (0.3989, 3.4635)
  point P2 (7.9, 3.2589)
  point P3 (2.9371, 3.5)
  point P4 (0.038, 3.4961)
  point P5 (8.3992, 2.4114)
  point P6 (-0.0008, 0.0012)
  point P7 (3.1992, 0.225)
  point P8 (7.465, 0.5622)
  point P9 (6.6601, 0.4594)
  point P10 (5.8552, 0.3565)
  point P11 (5.0502, 0.2537)
  point P12 (4.8225, 0.3444)
  point P13 (7.4574, 0.5612)
  point P14 (6.6533, 0.4585)
  point P15 (5.8491, 0.3557)
  point P16 (5.0449, 0.253)
  point P17 (5.4232, 2.9217)
  point P18 (6.2232, 2.8587)
  point P19 (7.0232, 2.7958)
  point P20 (8.6232, 2.6699)
  point P21 (5.4232, 2.9217)
  point P22 (0.1838, 0.7796)
  point P23 (0.9838, 0.7237)
  point P24 (0.6438, 0.7354)
  point P25 (1.4438, 0.6794)
  point P26 (1.7838, 0.6678)
  point P27 (2.2438, 0.6235)
  point P28 (2.5838, 0.6118)
  point P29 (3.0438, 0.5675)
  point P30 (3.3838, 0.5559)
  point P31 (3.8438, 0.5116)
  point P32 (4.1838, 0.4999)
  point P33 (4.6438, 0.4556)
  point P34 (4.9838, 0.444)
  point P35 (5.7838, 0.3881)
  point P36 (6.5838, 0.3321)
  point P37 (7.3838, 0.2762)
  point P38 (8.1838, 0.2202)
  point P39 (8.9838, 0.1643)
  point P40 (5.3838, -1.7229)
  point P41 (4.5838, -1.7789)
  point P42 (3.7838, -1.8348)
  point P43 (5.4438, 0.3997)
  point P44 (2.9838, -1.8908)
  point P45 (5.0438, -1.7346)
  point P46 (2.1838, -1.9467)
  point P47 (4.2438, -1.7905)
  point P48 (1.3838, -2.0027)
  point P49 (3.4438, -1.8465)
  point P50 (0.5838, -2.0586)
  point P51 (2.6438, -1.9024)
  point P52 (1.8438, -1.9584)
  point P53 (6.2438, 0.3438)
  point P54 (7.0438, 0.2878)
  point P55 (7.8438, 0.2319)
  point P56 (8.6438, 0.1759)
  point P57 (1.0438, -2.0143)
extrude "Extrusion23" [suppressed]
sketch "Sketch57" plane through (0.2505, -0.6495, 1.125) normal (0, 0, -1) x (-1, 0, 0)
  point P0 (0.2505, 0.6495)
sketch "Sketch58" plane through (2.1282, 0, 1.5) normal (0, -1, 0) x (1, 0, 0)
  line L0 (-0.0634, 0) -> (0.4723, 0) projected
  line L1 (-4.5095, -1.5) -> (12.087, -1.5) projected
  line L2 (-0.0426, -0.0738) -> (-0.0426, 0)
  line L3 (-0.0426, 0) -> (0, 0)
  line L4 (0.401, -0.1) -> (-0.059, -0.0557) projected
  line L5 (0.4723, 0) -> (0.401, -0.1) projected
  line L6 (-0.059, -0.0557) -> (-0.0634, 0) projected
  point P0 (-2.1282, -1.5)
revolve "Revolution9" [suppressed]
thread "Thread5" size "M1.6x0.35" class "6H" standard "ANSI Metric M Profile" length 3
sketch "Sketch59" plane through (2.0648, 0, 1.5) normal (0, -1, 0) x (1, 0, 0)
  line L0 (0, 0) -> (0.5357, 0) projected
  line L1 (0.0044, -0.0557) -> (0, 0) projected
  line L2 (0.4644, -0.1) -> (0.0044, -0.0557) projected
  line L3 (0.5357, 0) -> (0.4644, -0.1) projected
  line L4 (-4.7473, -1.5) -> (13.9575, -1.5) projected
  point P0 (-2.0648, -1.5)
revolve "Revolution10" [suppressed]
chamfer "Chamfer5" distance 0.2 angle 45 1 edges at (2.8, 0, 0.675)
properties part number "3.5X13 Implant" material "Titanium"
